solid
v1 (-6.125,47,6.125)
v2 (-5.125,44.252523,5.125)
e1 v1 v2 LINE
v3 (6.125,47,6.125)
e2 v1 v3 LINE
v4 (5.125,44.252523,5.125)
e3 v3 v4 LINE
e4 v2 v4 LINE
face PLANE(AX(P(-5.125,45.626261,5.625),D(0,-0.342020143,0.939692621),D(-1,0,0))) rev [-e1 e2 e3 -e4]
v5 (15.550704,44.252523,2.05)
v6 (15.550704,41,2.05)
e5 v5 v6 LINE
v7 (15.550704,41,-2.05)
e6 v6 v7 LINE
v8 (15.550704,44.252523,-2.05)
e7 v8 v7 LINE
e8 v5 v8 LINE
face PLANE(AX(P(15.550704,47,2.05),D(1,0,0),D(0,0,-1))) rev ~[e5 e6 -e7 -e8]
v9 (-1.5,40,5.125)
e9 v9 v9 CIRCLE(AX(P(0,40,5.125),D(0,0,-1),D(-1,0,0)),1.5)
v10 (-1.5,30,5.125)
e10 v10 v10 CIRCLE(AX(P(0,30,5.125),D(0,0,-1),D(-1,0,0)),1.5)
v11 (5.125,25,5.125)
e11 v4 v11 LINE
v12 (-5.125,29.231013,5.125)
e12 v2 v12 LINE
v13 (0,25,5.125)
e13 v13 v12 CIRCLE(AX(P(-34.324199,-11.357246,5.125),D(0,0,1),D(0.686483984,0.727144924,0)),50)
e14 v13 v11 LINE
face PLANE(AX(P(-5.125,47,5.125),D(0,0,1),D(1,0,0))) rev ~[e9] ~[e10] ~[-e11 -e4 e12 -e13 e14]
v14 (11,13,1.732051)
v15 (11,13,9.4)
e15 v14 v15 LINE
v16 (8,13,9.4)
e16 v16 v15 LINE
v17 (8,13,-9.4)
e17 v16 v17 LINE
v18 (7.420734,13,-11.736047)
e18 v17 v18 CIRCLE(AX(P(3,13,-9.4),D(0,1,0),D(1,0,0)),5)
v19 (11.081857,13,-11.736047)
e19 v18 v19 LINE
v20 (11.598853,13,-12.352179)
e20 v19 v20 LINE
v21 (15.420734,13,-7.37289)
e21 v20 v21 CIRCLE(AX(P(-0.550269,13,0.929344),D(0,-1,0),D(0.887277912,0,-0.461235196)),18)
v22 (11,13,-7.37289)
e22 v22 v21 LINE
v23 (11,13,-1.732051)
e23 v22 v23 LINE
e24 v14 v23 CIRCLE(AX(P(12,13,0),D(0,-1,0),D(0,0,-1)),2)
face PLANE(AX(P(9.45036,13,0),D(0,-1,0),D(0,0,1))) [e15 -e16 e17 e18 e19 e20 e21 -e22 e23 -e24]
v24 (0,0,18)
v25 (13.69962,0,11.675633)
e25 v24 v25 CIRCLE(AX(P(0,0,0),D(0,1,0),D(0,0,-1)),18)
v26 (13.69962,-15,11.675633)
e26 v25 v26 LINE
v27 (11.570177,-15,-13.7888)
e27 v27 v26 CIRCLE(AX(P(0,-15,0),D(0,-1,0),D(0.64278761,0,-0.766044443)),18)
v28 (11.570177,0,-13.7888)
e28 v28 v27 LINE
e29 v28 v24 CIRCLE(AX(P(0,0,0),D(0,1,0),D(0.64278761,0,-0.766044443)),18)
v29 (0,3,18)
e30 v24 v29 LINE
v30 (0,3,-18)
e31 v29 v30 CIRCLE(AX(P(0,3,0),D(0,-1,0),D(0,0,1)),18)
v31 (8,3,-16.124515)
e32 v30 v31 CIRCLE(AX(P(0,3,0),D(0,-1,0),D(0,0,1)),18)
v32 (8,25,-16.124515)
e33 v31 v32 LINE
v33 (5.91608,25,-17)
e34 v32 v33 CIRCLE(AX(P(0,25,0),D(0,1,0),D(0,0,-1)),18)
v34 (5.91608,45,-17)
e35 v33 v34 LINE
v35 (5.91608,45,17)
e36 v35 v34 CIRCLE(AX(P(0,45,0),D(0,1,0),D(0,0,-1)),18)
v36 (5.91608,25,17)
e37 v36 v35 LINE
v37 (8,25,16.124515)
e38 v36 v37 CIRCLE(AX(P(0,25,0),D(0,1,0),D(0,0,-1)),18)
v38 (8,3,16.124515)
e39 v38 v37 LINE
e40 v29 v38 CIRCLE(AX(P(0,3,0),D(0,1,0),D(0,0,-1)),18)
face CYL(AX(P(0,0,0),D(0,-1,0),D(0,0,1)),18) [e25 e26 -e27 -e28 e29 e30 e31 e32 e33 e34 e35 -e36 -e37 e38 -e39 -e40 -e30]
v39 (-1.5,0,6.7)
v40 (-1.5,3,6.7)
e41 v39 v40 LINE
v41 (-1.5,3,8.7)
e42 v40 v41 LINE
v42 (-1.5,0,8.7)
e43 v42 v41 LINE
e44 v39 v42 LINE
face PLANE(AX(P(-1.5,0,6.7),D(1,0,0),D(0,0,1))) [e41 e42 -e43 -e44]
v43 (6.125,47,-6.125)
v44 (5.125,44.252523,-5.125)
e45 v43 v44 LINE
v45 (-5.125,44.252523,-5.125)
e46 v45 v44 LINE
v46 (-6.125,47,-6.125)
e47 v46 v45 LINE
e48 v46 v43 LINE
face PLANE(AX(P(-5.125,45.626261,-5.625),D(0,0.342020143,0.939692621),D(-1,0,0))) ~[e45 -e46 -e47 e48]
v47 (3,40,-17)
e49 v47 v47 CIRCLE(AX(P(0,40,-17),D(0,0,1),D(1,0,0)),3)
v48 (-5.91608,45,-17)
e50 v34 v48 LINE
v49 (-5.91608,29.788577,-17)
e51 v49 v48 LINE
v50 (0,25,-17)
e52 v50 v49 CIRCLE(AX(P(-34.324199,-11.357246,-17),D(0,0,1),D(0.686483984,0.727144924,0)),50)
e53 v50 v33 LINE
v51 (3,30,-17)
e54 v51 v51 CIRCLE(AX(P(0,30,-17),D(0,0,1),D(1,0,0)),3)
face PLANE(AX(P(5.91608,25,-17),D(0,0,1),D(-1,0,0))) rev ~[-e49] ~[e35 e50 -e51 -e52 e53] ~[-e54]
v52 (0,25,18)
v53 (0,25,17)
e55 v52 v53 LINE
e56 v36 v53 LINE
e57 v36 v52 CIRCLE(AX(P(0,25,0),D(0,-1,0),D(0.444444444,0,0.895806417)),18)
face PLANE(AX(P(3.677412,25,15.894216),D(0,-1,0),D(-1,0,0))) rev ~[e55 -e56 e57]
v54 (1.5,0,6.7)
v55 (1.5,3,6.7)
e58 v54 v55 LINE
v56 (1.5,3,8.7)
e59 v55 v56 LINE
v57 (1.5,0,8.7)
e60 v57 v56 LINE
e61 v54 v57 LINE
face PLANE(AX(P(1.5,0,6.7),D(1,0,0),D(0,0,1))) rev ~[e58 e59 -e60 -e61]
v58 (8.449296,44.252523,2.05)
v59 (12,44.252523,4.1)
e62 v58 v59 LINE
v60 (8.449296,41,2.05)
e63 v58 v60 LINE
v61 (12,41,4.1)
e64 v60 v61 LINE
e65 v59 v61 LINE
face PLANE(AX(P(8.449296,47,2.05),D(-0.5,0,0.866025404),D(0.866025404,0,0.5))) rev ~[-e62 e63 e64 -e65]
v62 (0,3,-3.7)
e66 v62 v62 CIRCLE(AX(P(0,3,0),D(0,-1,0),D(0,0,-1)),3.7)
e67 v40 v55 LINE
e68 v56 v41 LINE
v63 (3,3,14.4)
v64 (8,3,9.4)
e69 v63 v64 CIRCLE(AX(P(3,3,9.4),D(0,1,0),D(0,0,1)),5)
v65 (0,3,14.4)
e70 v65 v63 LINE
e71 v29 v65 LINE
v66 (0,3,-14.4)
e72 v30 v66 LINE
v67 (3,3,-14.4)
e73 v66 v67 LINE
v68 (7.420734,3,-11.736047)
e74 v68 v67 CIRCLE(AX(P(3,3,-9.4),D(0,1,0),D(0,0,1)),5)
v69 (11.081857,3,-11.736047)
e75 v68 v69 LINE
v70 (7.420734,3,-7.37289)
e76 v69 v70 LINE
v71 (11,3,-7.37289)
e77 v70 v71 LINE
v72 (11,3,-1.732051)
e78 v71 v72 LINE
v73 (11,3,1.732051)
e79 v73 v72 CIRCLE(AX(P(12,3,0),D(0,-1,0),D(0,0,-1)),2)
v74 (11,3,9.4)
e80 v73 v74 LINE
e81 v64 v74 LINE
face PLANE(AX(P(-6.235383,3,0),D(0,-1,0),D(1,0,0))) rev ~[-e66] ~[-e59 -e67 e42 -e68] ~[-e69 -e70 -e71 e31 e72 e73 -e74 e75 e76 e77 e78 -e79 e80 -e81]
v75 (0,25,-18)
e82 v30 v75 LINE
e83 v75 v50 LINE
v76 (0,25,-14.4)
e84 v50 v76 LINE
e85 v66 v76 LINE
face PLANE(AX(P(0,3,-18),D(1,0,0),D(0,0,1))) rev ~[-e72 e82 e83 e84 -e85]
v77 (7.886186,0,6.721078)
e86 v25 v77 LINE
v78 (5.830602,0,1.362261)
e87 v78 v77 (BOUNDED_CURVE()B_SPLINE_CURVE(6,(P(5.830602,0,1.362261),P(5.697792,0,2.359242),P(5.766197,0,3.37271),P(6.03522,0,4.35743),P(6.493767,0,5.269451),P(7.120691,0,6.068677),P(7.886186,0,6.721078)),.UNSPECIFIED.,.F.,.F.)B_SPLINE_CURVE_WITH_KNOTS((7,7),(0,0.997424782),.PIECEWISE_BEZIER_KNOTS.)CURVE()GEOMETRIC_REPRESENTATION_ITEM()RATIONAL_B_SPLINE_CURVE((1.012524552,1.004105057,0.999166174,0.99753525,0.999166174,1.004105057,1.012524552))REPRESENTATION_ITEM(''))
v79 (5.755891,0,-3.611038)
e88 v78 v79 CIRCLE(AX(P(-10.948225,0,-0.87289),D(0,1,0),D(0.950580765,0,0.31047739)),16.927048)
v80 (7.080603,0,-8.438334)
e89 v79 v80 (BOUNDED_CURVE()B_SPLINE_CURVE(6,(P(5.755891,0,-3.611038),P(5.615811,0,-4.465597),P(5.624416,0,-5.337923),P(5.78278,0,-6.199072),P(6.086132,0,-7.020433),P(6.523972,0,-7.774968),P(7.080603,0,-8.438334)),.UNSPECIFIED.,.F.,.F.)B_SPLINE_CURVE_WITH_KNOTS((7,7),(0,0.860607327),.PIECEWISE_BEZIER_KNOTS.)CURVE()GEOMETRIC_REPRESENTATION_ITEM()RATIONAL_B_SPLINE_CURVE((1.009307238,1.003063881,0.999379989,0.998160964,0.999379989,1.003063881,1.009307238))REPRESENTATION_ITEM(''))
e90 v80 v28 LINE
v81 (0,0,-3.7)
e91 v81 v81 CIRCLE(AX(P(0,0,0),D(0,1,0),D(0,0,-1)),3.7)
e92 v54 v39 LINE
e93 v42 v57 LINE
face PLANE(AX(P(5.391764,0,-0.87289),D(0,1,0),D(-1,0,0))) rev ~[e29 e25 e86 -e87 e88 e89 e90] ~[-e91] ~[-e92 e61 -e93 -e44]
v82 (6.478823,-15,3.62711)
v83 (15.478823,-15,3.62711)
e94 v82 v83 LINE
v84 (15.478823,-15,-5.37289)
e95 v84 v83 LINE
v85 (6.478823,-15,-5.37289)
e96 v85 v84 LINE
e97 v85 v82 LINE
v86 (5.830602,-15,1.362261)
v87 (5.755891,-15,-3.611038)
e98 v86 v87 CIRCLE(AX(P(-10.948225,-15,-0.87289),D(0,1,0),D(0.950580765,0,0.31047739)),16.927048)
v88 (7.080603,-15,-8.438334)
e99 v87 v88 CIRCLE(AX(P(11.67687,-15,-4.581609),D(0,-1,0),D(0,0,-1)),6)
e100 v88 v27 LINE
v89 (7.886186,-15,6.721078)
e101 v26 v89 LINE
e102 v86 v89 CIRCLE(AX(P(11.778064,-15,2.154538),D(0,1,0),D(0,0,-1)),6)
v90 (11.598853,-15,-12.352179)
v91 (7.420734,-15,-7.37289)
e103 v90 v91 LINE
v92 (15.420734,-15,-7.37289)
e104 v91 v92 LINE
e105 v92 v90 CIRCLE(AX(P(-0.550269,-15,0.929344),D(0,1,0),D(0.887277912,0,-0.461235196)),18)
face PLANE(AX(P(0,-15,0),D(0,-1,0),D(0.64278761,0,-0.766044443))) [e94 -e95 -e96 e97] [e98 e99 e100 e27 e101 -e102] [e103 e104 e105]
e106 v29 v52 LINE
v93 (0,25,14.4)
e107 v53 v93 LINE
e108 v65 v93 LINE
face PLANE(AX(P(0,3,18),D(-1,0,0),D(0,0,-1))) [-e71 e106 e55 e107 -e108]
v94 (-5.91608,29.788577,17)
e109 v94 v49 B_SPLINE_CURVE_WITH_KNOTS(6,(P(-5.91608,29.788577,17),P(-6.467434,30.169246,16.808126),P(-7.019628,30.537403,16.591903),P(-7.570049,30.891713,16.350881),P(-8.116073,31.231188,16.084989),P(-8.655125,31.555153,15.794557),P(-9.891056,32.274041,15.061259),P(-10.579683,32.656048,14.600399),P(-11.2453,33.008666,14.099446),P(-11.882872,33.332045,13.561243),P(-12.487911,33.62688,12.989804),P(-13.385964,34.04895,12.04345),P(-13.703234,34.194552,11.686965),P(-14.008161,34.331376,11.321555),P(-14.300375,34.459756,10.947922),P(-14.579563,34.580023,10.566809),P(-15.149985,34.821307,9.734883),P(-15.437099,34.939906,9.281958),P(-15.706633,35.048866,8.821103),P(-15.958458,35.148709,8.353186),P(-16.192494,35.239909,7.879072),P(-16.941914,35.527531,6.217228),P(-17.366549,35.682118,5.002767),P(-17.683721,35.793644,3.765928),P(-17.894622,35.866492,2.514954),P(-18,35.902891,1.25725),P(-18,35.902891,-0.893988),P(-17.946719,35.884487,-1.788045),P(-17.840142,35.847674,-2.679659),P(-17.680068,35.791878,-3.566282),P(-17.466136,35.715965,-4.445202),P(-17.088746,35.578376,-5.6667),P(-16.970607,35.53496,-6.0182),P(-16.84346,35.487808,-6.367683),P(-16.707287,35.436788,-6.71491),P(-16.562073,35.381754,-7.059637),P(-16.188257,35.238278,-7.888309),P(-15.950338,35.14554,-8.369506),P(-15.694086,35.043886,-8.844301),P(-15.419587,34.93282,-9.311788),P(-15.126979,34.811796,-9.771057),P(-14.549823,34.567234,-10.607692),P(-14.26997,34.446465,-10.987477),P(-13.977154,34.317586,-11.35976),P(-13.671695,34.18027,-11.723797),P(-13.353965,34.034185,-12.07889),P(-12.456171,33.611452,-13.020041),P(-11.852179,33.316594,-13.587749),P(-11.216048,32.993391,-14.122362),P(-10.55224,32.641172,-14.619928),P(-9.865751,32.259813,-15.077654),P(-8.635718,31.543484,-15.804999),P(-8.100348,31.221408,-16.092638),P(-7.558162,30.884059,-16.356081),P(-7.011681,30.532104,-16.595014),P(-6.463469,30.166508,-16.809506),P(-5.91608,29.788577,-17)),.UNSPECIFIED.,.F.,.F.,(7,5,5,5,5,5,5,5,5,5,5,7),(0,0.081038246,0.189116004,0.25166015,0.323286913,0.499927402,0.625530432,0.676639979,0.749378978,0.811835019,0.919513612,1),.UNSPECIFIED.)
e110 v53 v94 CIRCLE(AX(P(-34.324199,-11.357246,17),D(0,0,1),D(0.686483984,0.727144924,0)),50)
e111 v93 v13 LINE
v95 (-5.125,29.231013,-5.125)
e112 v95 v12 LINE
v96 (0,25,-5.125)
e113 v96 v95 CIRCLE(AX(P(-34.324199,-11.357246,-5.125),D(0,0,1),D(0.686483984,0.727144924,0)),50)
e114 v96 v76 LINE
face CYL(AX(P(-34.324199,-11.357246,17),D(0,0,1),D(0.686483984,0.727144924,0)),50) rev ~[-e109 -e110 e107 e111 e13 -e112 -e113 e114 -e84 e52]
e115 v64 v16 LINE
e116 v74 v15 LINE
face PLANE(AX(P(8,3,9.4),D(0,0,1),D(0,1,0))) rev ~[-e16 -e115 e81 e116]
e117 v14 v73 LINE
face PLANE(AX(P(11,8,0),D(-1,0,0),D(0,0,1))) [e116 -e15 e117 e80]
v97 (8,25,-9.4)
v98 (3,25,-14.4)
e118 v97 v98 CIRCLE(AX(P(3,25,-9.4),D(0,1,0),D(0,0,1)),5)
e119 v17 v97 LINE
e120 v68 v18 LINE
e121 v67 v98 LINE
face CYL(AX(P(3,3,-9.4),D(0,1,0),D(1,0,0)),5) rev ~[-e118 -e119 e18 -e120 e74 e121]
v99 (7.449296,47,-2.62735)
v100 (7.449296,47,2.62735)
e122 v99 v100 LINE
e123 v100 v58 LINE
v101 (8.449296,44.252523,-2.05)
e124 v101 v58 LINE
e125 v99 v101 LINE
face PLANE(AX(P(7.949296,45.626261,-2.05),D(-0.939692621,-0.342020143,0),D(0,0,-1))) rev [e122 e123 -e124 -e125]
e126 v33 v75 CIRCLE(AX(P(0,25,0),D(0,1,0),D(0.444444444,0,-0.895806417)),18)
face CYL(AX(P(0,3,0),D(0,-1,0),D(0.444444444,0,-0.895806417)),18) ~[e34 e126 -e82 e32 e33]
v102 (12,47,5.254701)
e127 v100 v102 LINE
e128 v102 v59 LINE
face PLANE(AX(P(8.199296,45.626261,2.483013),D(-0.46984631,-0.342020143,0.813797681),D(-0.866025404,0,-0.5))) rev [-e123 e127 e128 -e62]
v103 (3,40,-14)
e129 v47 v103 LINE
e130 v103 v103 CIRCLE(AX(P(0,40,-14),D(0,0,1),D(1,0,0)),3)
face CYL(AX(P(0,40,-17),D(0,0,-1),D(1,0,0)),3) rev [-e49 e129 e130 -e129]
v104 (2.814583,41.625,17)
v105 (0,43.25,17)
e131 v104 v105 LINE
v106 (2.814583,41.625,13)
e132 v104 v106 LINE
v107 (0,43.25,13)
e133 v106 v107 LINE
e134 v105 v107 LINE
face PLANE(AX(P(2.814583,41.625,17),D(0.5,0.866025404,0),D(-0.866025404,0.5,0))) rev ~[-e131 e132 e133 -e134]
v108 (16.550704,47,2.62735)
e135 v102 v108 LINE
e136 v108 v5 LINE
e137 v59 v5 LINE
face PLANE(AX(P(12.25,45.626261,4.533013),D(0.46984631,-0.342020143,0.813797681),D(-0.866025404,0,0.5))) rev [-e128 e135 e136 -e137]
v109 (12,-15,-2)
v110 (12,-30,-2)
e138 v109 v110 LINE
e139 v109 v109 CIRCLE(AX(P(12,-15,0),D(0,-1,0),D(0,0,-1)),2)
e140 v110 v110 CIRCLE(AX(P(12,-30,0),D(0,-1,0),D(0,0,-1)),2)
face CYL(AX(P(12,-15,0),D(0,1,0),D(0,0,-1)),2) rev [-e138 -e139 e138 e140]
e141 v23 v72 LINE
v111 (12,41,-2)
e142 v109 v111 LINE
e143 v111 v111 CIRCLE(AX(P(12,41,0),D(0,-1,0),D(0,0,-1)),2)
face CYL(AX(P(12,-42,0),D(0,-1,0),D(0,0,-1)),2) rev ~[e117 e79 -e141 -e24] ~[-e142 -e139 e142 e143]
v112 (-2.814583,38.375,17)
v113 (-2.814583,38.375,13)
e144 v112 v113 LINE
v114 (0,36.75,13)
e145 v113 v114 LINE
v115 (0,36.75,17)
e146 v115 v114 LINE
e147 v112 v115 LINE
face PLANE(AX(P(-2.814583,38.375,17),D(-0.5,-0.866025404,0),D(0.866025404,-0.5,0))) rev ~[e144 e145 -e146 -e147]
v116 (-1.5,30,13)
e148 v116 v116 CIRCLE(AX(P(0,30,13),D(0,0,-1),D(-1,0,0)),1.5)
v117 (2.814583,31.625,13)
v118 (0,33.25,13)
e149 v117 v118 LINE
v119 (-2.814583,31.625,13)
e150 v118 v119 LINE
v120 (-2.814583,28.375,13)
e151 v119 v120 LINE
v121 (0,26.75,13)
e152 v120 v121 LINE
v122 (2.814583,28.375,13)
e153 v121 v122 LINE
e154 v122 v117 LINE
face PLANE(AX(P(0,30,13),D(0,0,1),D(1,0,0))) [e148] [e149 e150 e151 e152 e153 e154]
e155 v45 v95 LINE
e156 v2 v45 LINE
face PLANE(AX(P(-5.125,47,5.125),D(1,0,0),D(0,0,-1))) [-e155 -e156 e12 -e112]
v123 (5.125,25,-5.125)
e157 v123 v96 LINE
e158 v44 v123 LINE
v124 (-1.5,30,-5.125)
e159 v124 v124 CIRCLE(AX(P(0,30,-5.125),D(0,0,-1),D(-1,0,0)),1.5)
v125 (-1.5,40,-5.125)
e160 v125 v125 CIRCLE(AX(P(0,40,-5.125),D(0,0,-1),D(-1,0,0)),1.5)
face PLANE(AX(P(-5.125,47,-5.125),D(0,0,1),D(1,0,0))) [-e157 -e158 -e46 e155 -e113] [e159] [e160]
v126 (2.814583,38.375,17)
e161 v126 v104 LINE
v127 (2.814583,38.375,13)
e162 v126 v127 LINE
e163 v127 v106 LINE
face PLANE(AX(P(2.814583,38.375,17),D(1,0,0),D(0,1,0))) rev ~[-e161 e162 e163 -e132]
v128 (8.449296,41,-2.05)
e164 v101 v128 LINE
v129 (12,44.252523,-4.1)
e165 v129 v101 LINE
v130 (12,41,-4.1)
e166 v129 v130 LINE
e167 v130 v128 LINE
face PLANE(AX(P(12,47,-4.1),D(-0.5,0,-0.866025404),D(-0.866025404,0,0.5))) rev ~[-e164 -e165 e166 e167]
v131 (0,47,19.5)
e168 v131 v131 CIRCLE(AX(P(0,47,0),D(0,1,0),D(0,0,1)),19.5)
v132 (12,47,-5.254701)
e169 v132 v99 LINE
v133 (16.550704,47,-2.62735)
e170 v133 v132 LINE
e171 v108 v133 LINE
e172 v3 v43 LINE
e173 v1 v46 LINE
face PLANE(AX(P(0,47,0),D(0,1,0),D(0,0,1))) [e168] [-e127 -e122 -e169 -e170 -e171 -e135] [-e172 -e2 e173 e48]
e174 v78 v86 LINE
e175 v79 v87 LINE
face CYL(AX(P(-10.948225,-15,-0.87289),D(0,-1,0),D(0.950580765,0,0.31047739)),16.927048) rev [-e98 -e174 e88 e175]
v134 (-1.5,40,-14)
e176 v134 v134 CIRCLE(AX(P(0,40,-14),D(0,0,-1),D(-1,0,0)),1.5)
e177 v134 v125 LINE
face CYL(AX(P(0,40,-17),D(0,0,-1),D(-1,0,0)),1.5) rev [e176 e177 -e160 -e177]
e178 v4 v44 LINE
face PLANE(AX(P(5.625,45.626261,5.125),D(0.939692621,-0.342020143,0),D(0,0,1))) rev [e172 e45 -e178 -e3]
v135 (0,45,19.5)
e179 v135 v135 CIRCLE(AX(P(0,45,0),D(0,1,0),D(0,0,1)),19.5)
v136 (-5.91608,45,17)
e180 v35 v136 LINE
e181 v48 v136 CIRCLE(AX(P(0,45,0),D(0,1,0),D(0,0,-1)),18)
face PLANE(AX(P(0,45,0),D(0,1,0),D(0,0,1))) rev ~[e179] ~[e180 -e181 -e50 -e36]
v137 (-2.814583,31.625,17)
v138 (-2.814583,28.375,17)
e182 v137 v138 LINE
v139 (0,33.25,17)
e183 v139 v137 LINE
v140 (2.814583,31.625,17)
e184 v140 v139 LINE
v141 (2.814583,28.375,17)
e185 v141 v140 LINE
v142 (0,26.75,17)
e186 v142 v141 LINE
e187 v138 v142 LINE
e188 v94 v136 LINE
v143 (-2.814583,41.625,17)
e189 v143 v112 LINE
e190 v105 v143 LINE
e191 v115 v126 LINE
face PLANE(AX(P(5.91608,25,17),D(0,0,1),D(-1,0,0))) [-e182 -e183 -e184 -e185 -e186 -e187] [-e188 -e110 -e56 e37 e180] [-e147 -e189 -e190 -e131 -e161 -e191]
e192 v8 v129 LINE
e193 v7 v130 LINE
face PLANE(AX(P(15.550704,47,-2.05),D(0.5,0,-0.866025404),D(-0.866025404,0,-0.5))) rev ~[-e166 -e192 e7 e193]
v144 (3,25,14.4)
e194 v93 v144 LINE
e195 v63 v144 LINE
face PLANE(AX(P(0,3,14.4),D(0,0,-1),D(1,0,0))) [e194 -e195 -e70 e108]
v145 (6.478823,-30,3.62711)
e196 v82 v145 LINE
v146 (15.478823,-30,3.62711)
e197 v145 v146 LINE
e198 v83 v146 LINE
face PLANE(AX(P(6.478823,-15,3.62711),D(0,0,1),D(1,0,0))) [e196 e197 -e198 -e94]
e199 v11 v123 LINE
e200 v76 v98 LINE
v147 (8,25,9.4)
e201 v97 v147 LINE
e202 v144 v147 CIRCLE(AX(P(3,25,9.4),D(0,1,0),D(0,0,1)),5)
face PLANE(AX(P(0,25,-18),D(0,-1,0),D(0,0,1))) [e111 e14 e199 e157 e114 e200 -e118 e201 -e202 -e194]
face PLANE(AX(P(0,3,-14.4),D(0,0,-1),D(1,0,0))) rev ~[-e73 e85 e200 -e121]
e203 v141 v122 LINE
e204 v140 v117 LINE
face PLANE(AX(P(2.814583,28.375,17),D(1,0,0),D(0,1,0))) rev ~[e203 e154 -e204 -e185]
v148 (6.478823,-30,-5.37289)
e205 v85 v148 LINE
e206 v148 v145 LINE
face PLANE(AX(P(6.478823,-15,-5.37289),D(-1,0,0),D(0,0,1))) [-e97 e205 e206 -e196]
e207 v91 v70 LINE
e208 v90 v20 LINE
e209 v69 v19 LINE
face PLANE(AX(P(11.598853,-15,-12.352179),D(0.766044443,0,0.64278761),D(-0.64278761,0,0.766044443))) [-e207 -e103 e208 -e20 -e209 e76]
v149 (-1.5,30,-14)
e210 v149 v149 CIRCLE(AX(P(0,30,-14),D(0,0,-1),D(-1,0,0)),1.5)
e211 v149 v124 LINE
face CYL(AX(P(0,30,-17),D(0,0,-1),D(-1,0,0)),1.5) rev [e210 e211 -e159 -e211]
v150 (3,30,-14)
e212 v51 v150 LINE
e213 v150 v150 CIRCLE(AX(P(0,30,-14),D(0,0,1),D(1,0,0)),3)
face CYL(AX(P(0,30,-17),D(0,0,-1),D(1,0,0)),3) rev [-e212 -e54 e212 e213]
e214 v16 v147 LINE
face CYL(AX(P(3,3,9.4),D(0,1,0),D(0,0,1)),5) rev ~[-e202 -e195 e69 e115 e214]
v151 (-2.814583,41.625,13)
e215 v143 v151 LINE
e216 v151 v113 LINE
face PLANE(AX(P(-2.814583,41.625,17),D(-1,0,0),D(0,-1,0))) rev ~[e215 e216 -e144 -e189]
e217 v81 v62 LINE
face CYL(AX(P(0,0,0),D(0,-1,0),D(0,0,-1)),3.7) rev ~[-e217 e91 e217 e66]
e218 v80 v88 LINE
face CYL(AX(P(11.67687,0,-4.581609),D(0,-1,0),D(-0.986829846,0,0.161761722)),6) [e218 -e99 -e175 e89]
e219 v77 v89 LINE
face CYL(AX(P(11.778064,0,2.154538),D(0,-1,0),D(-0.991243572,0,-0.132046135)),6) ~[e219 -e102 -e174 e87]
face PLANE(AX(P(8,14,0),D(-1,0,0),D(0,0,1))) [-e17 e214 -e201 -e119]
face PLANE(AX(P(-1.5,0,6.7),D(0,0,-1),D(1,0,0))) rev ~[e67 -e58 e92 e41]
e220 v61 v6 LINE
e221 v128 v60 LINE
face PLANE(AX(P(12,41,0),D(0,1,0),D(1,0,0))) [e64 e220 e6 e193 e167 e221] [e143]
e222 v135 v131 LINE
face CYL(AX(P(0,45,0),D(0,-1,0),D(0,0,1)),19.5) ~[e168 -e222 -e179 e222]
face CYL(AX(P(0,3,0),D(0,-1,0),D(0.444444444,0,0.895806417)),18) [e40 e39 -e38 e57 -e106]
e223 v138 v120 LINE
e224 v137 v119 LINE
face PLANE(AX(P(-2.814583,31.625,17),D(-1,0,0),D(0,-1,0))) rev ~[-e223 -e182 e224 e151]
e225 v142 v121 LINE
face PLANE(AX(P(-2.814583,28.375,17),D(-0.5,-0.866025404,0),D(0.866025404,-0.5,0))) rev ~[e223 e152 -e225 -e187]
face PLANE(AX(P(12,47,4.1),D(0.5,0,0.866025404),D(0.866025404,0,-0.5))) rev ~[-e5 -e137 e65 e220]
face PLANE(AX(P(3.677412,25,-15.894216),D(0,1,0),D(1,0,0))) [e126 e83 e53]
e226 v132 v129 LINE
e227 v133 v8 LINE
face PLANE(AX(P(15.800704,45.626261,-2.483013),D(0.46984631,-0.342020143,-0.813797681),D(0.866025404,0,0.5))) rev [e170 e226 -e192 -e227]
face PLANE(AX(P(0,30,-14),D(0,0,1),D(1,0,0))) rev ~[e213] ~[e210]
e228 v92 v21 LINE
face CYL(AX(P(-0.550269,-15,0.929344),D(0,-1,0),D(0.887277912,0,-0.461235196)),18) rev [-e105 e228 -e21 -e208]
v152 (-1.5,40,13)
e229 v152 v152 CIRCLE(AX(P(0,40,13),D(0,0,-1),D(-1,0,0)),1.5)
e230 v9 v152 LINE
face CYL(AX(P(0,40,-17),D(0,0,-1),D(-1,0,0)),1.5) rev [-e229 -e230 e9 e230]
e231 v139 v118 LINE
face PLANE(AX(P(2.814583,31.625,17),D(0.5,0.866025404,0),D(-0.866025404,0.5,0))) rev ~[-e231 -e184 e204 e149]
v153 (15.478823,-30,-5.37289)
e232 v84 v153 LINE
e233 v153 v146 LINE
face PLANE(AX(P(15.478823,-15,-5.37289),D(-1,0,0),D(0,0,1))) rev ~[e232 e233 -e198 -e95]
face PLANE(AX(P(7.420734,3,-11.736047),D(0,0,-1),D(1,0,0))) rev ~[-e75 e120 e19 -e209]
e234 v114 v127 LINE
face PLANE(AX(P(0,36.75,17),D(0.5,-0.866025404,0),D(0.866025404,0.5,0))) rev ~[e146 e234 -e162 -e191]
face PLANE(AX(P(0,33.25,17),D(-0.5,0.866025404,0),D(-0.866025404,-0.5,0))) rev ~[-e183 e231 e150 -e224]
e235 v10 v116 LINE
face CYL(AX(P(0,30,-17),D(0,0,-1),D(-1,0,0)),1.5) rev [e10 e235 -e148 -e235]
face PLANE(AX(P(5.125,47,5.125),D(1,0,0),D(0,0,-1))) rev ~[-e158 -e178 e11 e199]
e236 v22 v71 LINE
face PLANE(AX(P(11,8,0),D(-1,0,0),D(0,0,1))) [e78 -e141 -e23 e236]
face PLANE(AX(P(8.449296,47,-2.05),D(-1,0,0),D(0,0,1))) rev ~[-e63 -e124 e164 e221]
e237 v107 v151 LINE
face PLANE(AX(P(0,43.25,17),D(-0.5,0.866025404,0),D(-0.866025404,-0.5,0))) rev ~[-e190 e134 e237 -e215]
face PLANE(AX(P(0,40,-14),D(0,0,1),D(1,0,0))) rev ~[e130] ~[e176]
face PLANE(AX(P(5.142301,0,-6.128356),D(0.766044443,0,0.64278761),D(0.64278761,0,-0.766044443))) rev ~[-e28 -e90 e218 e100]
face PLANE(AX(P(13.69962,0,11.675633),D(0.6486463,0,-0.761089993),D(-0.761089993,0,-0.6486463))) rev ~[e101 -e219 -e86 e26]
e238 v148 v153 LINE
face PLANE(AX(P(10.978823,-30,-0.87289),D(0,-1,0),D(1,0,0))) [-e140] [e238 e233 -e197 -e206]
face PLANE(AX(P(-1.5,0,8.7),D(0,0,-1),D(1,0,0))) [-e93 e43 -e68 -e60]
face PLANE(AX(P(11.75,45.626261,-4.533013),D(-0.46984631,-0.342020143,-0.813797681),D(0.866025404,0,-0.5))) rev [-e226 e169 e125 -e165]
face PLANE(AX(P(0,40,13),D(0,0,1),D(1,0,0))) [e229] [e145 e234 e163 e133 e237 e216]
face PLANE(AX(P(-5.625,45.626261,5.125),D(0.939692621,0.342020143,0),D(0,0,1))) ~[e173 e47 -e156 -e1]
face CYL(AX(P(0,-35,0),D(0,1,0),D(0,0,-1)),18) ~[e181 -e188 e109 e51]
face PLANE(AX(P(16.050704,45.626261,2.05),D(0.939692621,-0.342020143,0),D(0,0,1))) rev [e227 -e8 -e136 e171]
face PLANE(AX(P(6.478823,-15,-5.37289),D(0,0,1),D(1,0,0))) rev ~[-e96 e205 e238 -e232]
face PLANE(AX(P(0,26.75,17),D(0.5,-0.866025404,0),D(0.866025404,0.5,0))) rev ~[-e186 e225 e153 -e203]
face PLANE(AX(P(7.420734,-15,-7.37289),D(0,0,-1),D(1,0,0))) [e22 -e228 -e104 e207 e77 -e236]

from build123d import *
from build123d.topology import SkipClean

# Parameters (mm, degrees)
SKETCH_1_R          = 18
EXTRUDE_1_DEPTH     = 45
SKETCH_2_R          = 19.5
EXTRUDE_2_DEPTH     = 2
SKETCH_3_W          = 10.25
SKETCH_3_H          = 10.25
CUT_EXTRUDE_1_DEPTH = 40
EXTRUDE_3_DEPTH     = 15
SKETCH1_R           = 18
BOSS_EXTRUDE1_DEPTH = 20
SKETCH3_R           = 18
BOSS_EXTRUDE2_DEPTH = 7
SKETCH4_W           = 10.2
SKETCH4_H           = 10.2
CUT_EXTRUDE2_DEPTH  = 27
CUT_EXTRUDE4_DEPTH  = 25
BOSS_EXTRUDE3_DEPTH = 3
SKETCH9_W           = 36
SKETCH9_H           = 22
CUT_EXTRUDE5_DEPTH  = 8
SKETCH10_R          = 3.7
SKETCH10_W          = 3
SKETCH10_H          = 2
CUT_EXTRUDE6_DEPTH  = 10
SKETCH11_R          = 2
CUT_EXTRUDE7_DEPTH  = 102
SKETCH15_R          = 18
CUT_EXTRUDE9_DEPTH  = 27
CUT_EXTRUDE11_DEPTH = 20
SKETCH18_R          = 1.5
CUT_EXTRUDE12_DEPTH = 63.62188116
SKETCH19_R          = 3
CUT_EXTRUDE13_DEPTH = 3
BOSS_EXTRUDE5_DEPTH = 22
CUT_EXTRUDE16_DEPTH = 4
CUT_EXTRUDE17_DEPTH = 6
CUT_EXTRUDE18_DEPTH = 63.62188116
FILLET2_R           = 5
SKETCH30_W          = 18.8
SKETCH30_H          = 10
CUT_EXTRUDE20_DEPTH = 3
CHAMFER1_SIZE       = 1
CHAMFER1_SIZE2      = 2.747477419
CHAMFER2_SIZE       = 1
CHAMFER2_SIZE2      = 2.747477419
SKETCH37_W          = 9
SKETCH37_H          = 9
SKETCH37_R          = 2
BOSS_EXTRUDE7_DEPTH = 15
CUT_EXTRUDE22_DEPTH = 15
CUT_EXTRUDE23_REACH = 69.856
SKETCH40_W          = 4.363156696
SKETCH40_H          = 4.363156696
CUT_EXTRUDE24_DEPTH = 10
FILLET7_R           = 6


with BuildPart() as part:
    # Эскиз1 → Бобышка-Вытянуть1 (new body)
    with BuildSketch(Plane(origin=(0, 0, 0), x_dir=(1, 0, 0), z_dir=(0, 1, 0))):
        with Locations(Location((0, 0, 0), (0, 0, 90))):
            Circle(SKETCH_1_R)
    extrude(amount=EXTRUDE_1_DEPTH)

    # Эскиз2 → Бобышка-Вытянуть2 (add)
    with BuildSketch(Plane(origin=(0, 45, 0), x_dir=(1, 0, 0), z_dir=(0, 1, 0))):
        with Locations(Location((0, 0, 0), (0, 0, 270))):
            Circle(SKETCH_2_R)
    extrude(amount=EXTRUDE_2_DEPTH)

    # Эскиз3 → Вырез-Вытянуть1 (cut)
    with BuildSketch(Plane(origin=(0, 47, 0), x_dir=(1, 0, 0), z_dir=(0, 1, 0))):
        Rectangle(SKETCH_3_W, SKETCH_3_H)
    extrude(amount=-CUT_EXTRUDE_1_DEPTH, mode=Mode.SUBTRACT)

    # Эскиз4 → Бобышка-Вытянуть3 (add)
    with BuildSketch(Plane.XZ):
        with BuildLine():
            Line((5.142300877, -6.128355545), (11.570176974, -13.788799976))
            ThreePointArc((11.570176974, -13.788799976), (17.937391115, -1.5), (13.69961987, 11.675633406))
            Line((13.69961987, 11.675633406), (5.142300877, 4.38257561))
            Line((5.142300877, 4.38257561), (5.142300877, -6.128355545))
        make_face()
    extrude(amount=EXTRUDE_3_DEPTH)

    # Sketch1 → Boss-Extrude1 (add)
    with BuildSketch(Plane.XZ.offset(15)):
        with Locations(Location((0, 0, 0), (0, 0, 270))):
            Circle(SKETCH1_R)
    extrude(amount=BOSS_EXTRUDE1_DEPTH)

    # Sketch3 → Boss-Extrude2 (add)
    with BuildSketch(Plane.XZ.offset(35)):
        with Locations(Location((0, 0, 0), (0, 0, 270))):
            Circle(SKETCH3_R)
    extrude(amount=BOSS_EXTRUDE2_DEPTH)

    # Sketch4 → Cut-Extrude2 (cut)
    with BuildSketch(Plane.XZ.offset(42)):
        Rectangle(SKETCH4_W, SKETCH4_H)
    extrude(amount=-CUT_EXTRUDE2_DEPTH, mode=Mode.SUBTRACT)

    # Sketch6 → Cut-Extrude4 (cut)
    with BuildSketch(Plane.XZ):
        with BuildLine():
            Line((0, 18), (0, -18))
            ThreePointArc((0, -18), (-18, 0), (0, 18))
        make_face()
    extrude(amount=-CUT_EXTRUDE4_DEPTH, mode=Mode.SUBTRACT)

    # Sketch8 → Boss-Extrude3 (add)
    with BuildSketch(Plane.XZ):
        with BuildLine():
            Line((0, -18), (0, 18))
            ThreePointArc((0, 18), (-18, 0), (0, -18))
        make_face()
    extrude(amount=-BOSS_EXTRUDE3_DEPTH)

    # Sketch9 → Cut-Extrude5 (cut)
    with BuildSketch(Plane.ZY):
        with Locations((0, 14)):
            Rectangle(SKETCH9_W, SKETCH9_H)
    extrude(amount=-CUT_EXTRUDE5_DEPTH, mode=Mode.SUBTRACT)

    # Sketch10 → Cut-Extrude6 (cut)
    with BuildSketch(Plane.XZ):
        with Locations(Location((0, 0, 0), (0, 0, 270))):
            Circle(SKETCH10_R)
        with Locations((0, 7.7)):
            Rectangle(SKETCH10_W, SKETCH10_H)
    extrude(amount=-CUT_EXTRUDE6_DEPTH, mode=Mode.SUBTRACT)

    # Sketch11 → Cut-Extrude7 (cut)
    with BuildSketch(Plane.XZ.offset(42)):
        with Locations(Location((12, 0, 0), (0, 0, 270))):
            Circle(SKETCH11_R)
    extrude(amount=-CUT_EXTRUDE7_DEPTH, mode=Mode.SUBTRACT)

    # Sketch15 → Cut-Extrude9 (cut)
    with BuildSketch(Plane.XZ.offset(42)):
        with Locations(Location((0, 0, 0), (0, 0, 310))):
            Circle(SKETCH15_R)
    extrude(amount=-CUT_EXTRUDE9_DEPTH, mode=Mode.SUBTRACT)

    # Sketch17 → Cut-Extrude11 (cut)
    with BuildSketch(Plane.XZ.offset(-25)):
        with BuildLine():
            Line((5.916079783, -17), (-5.916079783, -17))
            ThreePointArc((-5.916079783, -17), (0, -18), (5.916079783, -17))
        make_face()
        with BuildLine():
            Line((5.916079783, 17), (-5.916079783, 17))
            ThreePointArc((-5.916079783, 17), (0, 18), (5.916079783, 17))
        make_face()
    extrude(amount=-CUT_EXTRUDE11_DEPTH, mode=Mode.SUBTRACT)

    # Sketch18 → Cut-Extrude12 (cut, through all)
    with BuildSketch(Plane.XY.offset(-17)):
        with Locations(Location((0, 30, 0), (0, 0, 180))):
            Circle(SKETCH18_R)
        with Locations(Location((0, 40, 0), (0, 0, 180))):
            Circle(SKETCH18_R)
    extrude(amount=CUT_EXTRUDE12_DEPTH, mode=Mode.SUBTRACT)

    # Sketch19 → Cut-Extrude13 (cut)
    with BuildSketch(Plane.XY.offset(-17)):
        with Locations((0, 30)):
            Circle(SKETCH19_R)
        with Locations((0, 40)):
            Circle(SKETCH19_R)
    extrude(amount=CUT_EXTRUDE13_DEPTH, mode=Mode.SUBTRACT)

    # Sketch23 → Boss-Extrude5 (add)
    with SkipClean():  # the faces are left unmerged after this step: merging them gives an invalid solid
        with BuildSketch(Plane(origin=(0, 3, 0), x_dir=(1, 0, 0), z_dir=(0, 1, 0))):
            with BuildLine():
                Line((0, -14.4), (8, -14.4))
                Line((8, -14.4), (8, -16.124515497))
                ThreePointArc((8, -16.124515497), (4.108449894, -17.524857759), (0, -18))
                Line((0, -18), (0, -14.4))
            make_face()
            with BuildLine():
                Line((0, 14.4), (8, 14.4))
                Line((8, 14.4), (8, 16.124515497))
                ThreePointArc((8, 16.124515497), (4.108449894, 17.524857759), (0, 18))
                Line((0, 18), (0, 14.4))
            make_face()
        extrude(amount=BOSS_EXTRUDE5_DEPTH)

    # Sketch25 → Cut-Extrude16 (cut)
    with SkipClean():  # the faces are left unmerged after this step: merging them gives an invalid solid
        with BuildSketch(Plane.XY.offset(17)):
            Polygon((-2.814582562, 28.375), (0, 26.75), (2.814582562, 28.375), (2.814582562, 31.625), (0, 33.25), (-2.814582562, 31.625), align=None)
            Polygon((-2.814582562, 41.625), (-2.814582562, 38.375), (0, 36.75), (2.814582562, 38.375), (2.814582562, 41.625), (0, 43.25), align=None)
        extrude(amount=-CUT_EXTRUDE16_DEPTH, mode=Mode.SUBTRACT)

    # Sketch26 → Cut-Extrude17 (cut)
    with SkipClean():  # the faces are left unmerged after this step: merging them gives an invalid solid
        with BuildSketch(Plane(origin=(0, 47, 0), x_dir=(1, 0, 0), z_dir=(0, 1, 0))):
            Polygon((8.449295844, -2.05), (12, -4.1), (15.550704156, -2.05), (15.550704156, 2.05), (12, 4.1), (8.449295844, 2.05), align=None)
        extrude(amount=-CUT_EXTRUDE17_DEPTH, mode=Mode.SUBTRACT)

    # Sketch27 → Cut-Extrude18 (cut, through all)
    with SkipClean():  # the faces are left unmerged after this step: merging them gives an invalid solid
        with BuildSketch(Plane.XY.offset(17)):
            with BuildLine():
                Line((-20, 36.547005384), (-20, 25))
                Line((-20, 25), (0, 25))
                ThreePointArc((0, 25), (-9.324199199, 31.944024015), (-20, 36.547005384))
            make_face()
        extrude(amount=-CUT_EXTRUDE18_DEPTH, mode=Mode.SUBTRACT)

    # Fillet2
    fillet2_edges = [part.edges().sort_by_distance(p)[0] for p in [
        (8, 14, -14.4),
        (8, 14, 14.4),
    ]]
    fillet(fillet2_edges, radius=FILLET2_R)

    # Sketch30 → Cut-Extrude20 (cut)
    with SkipClean():  # the faces are left unmerged after this step: merging them gives an invalid solid
        with BuildSketch(Plane.ZY.offset(-8)):
            with Locations((0, 8)):
                Rectangle(SKETCH30_W, SKETCH30_H)
        extrude(amount=-CUT_EXTRUDE20_DEPTH, mode=Mode.SUBTRACT)

    # Chamfer1
    chamfer1_edges = [part.edges().sort_by_distance(p)[0] for p in [
        (5.125, 47, 0),
        (0, 47, -5.125),
        (-5.125, 47, 0),
        (0, 47, 5.125),
    ]]
    chamfer1_side = [part.faces().sort_by_distance(p)[0] for p in [
        (0, 47, -18.948456711),
    ]]
    chamfer(chamfer1_edges, length=CHAMFER1_SIZE, length2=CHAMFER1_SIZE2, reference=chamfer1_side[0])

    # Chamfer2
    chamfer2_edges = [part.edges().sort_by_distance(p)[0] for p in [
        (8.449295844, 47, 0),
        (10.224647922, 47, 3.075),
        (13.775352078, 47, 3.075),
        (15.550704156, 47, 0),
        (13.775352078, 47, -3.075),
        (10.224647922, 47, -3.075),
    ]]
    chamfer2_side = [part.faces().sort_by_distance(p)[0] for p in [
        (6.676543289, 47, 0),
    ]]
    chamfer(chamfer2_edges, length=CHAMFER2_SIZE, length2=CHAMFER2_SIZE2, reference=chamfer2_side[0])

    # Sketch37 → Boss-Extrude7 (add)
    with SkipClean():  # the faces are left unmerged after this step: merging them gives an invalid solid
        with BuildSketch(Plane.XZ.offset(15)):
            with Locations((10.978822628, -0.872889968)):
                Rectangle(SKETCH37_W, SKETCH37_H)
            with Locations(Location((12, 0, 0), (0, 0, 270))):
                Circle(SKETCH37_R, mode=Mode.SUBTRACT)
        extrude(amount=BOSS_EXTRUDE7_DEPTH)

    # Sketch38 → Cut-Extrude22 (cut)
    with SkipClean():  # the faces are left unmerged after this step: merging them gives an invalid solid
        with BuildSketch(Plane.XZ.offset(15)):
            with BuildLine():
                Line((5.142300877, -6.128355545), (5.142300877, 4.38257561))
                ThreePointArc((5.142300877, 4.38257561), (5.978822628, -0.872889968), (5.142300877, -6.128355545))
            make_face()
        extrude(amount=-CUT_EXTRUDE22_DEPTH, mode=Mode.SUBTRACT)

    # Cut-Extrude23: up to this face of the body (flat: up to its plane)
    cut_extrude23_end = Plane(part.part.faces().sort_by_distance((9.450359937, 13, 0))[0])
    # Sketch39 → Cut-Extrude23 (cut, up to the picked face)
    with BuildSketch(Plane.XZ.offset(15), mode=Mode.PRIVATE) as cut_extrude23_sk1:
        with BuildLine():
            Line((7.420733648, -7.372889968), (15.420733648, -7.372889968))
            ThreePointArc((15.420733648, -7.372889968), (13.728515389, -10.030415688), (11.598853111, -12.352178848))
            Line((11.598853111, -12.352178848), (7.420733648, -7.372889968))
        make_face()
    cut_extrude23_tool1 = split(extrude(cut_extrude23_sk1.sketch, amount=-CUT_EXTRUDE23_REACH, mode=Mode.PRIVATE), bisect_by=cut_extrude23_end, keep=Keep.BOTH, mode=Mode.PRIVATE)
    add(cut_extrude23_tool1.solids().sort_by(Axis((11.596211, -15, -9.081847), (0, 1, 0)))[0], mode=Mode.SUBTRACT)

    # Sketch40 → Cut-Extrude24 (cut)
    with SkipClean():  # the faces are left unmerged after this step: merging them gives an invalid solid
        with BuildSketch(Plane(origin=(0, 3, 0), x_dir=(1, 0, 0), z_dir=(0, 1, 0))):
            with Locations((9.602311996, 9.554468316)):
                Rectangle(SKETCH40_W, SKETCH40_H)
        extrude(amount=CUT_EXTRUDE24_DEPTH, mode=Mode.SUBTRACT)

    # Fillet7
    fillet7_edges = [part.edges().sort_by_distance(p)[0] for p in [
        (5.142300877, -7.5, 4.38257561),
        (5.142300877, -7.5, -6.128355545),
    ]]
    fillet(fillet7_edges, radius=FILLET7_R)


solid = part.part
